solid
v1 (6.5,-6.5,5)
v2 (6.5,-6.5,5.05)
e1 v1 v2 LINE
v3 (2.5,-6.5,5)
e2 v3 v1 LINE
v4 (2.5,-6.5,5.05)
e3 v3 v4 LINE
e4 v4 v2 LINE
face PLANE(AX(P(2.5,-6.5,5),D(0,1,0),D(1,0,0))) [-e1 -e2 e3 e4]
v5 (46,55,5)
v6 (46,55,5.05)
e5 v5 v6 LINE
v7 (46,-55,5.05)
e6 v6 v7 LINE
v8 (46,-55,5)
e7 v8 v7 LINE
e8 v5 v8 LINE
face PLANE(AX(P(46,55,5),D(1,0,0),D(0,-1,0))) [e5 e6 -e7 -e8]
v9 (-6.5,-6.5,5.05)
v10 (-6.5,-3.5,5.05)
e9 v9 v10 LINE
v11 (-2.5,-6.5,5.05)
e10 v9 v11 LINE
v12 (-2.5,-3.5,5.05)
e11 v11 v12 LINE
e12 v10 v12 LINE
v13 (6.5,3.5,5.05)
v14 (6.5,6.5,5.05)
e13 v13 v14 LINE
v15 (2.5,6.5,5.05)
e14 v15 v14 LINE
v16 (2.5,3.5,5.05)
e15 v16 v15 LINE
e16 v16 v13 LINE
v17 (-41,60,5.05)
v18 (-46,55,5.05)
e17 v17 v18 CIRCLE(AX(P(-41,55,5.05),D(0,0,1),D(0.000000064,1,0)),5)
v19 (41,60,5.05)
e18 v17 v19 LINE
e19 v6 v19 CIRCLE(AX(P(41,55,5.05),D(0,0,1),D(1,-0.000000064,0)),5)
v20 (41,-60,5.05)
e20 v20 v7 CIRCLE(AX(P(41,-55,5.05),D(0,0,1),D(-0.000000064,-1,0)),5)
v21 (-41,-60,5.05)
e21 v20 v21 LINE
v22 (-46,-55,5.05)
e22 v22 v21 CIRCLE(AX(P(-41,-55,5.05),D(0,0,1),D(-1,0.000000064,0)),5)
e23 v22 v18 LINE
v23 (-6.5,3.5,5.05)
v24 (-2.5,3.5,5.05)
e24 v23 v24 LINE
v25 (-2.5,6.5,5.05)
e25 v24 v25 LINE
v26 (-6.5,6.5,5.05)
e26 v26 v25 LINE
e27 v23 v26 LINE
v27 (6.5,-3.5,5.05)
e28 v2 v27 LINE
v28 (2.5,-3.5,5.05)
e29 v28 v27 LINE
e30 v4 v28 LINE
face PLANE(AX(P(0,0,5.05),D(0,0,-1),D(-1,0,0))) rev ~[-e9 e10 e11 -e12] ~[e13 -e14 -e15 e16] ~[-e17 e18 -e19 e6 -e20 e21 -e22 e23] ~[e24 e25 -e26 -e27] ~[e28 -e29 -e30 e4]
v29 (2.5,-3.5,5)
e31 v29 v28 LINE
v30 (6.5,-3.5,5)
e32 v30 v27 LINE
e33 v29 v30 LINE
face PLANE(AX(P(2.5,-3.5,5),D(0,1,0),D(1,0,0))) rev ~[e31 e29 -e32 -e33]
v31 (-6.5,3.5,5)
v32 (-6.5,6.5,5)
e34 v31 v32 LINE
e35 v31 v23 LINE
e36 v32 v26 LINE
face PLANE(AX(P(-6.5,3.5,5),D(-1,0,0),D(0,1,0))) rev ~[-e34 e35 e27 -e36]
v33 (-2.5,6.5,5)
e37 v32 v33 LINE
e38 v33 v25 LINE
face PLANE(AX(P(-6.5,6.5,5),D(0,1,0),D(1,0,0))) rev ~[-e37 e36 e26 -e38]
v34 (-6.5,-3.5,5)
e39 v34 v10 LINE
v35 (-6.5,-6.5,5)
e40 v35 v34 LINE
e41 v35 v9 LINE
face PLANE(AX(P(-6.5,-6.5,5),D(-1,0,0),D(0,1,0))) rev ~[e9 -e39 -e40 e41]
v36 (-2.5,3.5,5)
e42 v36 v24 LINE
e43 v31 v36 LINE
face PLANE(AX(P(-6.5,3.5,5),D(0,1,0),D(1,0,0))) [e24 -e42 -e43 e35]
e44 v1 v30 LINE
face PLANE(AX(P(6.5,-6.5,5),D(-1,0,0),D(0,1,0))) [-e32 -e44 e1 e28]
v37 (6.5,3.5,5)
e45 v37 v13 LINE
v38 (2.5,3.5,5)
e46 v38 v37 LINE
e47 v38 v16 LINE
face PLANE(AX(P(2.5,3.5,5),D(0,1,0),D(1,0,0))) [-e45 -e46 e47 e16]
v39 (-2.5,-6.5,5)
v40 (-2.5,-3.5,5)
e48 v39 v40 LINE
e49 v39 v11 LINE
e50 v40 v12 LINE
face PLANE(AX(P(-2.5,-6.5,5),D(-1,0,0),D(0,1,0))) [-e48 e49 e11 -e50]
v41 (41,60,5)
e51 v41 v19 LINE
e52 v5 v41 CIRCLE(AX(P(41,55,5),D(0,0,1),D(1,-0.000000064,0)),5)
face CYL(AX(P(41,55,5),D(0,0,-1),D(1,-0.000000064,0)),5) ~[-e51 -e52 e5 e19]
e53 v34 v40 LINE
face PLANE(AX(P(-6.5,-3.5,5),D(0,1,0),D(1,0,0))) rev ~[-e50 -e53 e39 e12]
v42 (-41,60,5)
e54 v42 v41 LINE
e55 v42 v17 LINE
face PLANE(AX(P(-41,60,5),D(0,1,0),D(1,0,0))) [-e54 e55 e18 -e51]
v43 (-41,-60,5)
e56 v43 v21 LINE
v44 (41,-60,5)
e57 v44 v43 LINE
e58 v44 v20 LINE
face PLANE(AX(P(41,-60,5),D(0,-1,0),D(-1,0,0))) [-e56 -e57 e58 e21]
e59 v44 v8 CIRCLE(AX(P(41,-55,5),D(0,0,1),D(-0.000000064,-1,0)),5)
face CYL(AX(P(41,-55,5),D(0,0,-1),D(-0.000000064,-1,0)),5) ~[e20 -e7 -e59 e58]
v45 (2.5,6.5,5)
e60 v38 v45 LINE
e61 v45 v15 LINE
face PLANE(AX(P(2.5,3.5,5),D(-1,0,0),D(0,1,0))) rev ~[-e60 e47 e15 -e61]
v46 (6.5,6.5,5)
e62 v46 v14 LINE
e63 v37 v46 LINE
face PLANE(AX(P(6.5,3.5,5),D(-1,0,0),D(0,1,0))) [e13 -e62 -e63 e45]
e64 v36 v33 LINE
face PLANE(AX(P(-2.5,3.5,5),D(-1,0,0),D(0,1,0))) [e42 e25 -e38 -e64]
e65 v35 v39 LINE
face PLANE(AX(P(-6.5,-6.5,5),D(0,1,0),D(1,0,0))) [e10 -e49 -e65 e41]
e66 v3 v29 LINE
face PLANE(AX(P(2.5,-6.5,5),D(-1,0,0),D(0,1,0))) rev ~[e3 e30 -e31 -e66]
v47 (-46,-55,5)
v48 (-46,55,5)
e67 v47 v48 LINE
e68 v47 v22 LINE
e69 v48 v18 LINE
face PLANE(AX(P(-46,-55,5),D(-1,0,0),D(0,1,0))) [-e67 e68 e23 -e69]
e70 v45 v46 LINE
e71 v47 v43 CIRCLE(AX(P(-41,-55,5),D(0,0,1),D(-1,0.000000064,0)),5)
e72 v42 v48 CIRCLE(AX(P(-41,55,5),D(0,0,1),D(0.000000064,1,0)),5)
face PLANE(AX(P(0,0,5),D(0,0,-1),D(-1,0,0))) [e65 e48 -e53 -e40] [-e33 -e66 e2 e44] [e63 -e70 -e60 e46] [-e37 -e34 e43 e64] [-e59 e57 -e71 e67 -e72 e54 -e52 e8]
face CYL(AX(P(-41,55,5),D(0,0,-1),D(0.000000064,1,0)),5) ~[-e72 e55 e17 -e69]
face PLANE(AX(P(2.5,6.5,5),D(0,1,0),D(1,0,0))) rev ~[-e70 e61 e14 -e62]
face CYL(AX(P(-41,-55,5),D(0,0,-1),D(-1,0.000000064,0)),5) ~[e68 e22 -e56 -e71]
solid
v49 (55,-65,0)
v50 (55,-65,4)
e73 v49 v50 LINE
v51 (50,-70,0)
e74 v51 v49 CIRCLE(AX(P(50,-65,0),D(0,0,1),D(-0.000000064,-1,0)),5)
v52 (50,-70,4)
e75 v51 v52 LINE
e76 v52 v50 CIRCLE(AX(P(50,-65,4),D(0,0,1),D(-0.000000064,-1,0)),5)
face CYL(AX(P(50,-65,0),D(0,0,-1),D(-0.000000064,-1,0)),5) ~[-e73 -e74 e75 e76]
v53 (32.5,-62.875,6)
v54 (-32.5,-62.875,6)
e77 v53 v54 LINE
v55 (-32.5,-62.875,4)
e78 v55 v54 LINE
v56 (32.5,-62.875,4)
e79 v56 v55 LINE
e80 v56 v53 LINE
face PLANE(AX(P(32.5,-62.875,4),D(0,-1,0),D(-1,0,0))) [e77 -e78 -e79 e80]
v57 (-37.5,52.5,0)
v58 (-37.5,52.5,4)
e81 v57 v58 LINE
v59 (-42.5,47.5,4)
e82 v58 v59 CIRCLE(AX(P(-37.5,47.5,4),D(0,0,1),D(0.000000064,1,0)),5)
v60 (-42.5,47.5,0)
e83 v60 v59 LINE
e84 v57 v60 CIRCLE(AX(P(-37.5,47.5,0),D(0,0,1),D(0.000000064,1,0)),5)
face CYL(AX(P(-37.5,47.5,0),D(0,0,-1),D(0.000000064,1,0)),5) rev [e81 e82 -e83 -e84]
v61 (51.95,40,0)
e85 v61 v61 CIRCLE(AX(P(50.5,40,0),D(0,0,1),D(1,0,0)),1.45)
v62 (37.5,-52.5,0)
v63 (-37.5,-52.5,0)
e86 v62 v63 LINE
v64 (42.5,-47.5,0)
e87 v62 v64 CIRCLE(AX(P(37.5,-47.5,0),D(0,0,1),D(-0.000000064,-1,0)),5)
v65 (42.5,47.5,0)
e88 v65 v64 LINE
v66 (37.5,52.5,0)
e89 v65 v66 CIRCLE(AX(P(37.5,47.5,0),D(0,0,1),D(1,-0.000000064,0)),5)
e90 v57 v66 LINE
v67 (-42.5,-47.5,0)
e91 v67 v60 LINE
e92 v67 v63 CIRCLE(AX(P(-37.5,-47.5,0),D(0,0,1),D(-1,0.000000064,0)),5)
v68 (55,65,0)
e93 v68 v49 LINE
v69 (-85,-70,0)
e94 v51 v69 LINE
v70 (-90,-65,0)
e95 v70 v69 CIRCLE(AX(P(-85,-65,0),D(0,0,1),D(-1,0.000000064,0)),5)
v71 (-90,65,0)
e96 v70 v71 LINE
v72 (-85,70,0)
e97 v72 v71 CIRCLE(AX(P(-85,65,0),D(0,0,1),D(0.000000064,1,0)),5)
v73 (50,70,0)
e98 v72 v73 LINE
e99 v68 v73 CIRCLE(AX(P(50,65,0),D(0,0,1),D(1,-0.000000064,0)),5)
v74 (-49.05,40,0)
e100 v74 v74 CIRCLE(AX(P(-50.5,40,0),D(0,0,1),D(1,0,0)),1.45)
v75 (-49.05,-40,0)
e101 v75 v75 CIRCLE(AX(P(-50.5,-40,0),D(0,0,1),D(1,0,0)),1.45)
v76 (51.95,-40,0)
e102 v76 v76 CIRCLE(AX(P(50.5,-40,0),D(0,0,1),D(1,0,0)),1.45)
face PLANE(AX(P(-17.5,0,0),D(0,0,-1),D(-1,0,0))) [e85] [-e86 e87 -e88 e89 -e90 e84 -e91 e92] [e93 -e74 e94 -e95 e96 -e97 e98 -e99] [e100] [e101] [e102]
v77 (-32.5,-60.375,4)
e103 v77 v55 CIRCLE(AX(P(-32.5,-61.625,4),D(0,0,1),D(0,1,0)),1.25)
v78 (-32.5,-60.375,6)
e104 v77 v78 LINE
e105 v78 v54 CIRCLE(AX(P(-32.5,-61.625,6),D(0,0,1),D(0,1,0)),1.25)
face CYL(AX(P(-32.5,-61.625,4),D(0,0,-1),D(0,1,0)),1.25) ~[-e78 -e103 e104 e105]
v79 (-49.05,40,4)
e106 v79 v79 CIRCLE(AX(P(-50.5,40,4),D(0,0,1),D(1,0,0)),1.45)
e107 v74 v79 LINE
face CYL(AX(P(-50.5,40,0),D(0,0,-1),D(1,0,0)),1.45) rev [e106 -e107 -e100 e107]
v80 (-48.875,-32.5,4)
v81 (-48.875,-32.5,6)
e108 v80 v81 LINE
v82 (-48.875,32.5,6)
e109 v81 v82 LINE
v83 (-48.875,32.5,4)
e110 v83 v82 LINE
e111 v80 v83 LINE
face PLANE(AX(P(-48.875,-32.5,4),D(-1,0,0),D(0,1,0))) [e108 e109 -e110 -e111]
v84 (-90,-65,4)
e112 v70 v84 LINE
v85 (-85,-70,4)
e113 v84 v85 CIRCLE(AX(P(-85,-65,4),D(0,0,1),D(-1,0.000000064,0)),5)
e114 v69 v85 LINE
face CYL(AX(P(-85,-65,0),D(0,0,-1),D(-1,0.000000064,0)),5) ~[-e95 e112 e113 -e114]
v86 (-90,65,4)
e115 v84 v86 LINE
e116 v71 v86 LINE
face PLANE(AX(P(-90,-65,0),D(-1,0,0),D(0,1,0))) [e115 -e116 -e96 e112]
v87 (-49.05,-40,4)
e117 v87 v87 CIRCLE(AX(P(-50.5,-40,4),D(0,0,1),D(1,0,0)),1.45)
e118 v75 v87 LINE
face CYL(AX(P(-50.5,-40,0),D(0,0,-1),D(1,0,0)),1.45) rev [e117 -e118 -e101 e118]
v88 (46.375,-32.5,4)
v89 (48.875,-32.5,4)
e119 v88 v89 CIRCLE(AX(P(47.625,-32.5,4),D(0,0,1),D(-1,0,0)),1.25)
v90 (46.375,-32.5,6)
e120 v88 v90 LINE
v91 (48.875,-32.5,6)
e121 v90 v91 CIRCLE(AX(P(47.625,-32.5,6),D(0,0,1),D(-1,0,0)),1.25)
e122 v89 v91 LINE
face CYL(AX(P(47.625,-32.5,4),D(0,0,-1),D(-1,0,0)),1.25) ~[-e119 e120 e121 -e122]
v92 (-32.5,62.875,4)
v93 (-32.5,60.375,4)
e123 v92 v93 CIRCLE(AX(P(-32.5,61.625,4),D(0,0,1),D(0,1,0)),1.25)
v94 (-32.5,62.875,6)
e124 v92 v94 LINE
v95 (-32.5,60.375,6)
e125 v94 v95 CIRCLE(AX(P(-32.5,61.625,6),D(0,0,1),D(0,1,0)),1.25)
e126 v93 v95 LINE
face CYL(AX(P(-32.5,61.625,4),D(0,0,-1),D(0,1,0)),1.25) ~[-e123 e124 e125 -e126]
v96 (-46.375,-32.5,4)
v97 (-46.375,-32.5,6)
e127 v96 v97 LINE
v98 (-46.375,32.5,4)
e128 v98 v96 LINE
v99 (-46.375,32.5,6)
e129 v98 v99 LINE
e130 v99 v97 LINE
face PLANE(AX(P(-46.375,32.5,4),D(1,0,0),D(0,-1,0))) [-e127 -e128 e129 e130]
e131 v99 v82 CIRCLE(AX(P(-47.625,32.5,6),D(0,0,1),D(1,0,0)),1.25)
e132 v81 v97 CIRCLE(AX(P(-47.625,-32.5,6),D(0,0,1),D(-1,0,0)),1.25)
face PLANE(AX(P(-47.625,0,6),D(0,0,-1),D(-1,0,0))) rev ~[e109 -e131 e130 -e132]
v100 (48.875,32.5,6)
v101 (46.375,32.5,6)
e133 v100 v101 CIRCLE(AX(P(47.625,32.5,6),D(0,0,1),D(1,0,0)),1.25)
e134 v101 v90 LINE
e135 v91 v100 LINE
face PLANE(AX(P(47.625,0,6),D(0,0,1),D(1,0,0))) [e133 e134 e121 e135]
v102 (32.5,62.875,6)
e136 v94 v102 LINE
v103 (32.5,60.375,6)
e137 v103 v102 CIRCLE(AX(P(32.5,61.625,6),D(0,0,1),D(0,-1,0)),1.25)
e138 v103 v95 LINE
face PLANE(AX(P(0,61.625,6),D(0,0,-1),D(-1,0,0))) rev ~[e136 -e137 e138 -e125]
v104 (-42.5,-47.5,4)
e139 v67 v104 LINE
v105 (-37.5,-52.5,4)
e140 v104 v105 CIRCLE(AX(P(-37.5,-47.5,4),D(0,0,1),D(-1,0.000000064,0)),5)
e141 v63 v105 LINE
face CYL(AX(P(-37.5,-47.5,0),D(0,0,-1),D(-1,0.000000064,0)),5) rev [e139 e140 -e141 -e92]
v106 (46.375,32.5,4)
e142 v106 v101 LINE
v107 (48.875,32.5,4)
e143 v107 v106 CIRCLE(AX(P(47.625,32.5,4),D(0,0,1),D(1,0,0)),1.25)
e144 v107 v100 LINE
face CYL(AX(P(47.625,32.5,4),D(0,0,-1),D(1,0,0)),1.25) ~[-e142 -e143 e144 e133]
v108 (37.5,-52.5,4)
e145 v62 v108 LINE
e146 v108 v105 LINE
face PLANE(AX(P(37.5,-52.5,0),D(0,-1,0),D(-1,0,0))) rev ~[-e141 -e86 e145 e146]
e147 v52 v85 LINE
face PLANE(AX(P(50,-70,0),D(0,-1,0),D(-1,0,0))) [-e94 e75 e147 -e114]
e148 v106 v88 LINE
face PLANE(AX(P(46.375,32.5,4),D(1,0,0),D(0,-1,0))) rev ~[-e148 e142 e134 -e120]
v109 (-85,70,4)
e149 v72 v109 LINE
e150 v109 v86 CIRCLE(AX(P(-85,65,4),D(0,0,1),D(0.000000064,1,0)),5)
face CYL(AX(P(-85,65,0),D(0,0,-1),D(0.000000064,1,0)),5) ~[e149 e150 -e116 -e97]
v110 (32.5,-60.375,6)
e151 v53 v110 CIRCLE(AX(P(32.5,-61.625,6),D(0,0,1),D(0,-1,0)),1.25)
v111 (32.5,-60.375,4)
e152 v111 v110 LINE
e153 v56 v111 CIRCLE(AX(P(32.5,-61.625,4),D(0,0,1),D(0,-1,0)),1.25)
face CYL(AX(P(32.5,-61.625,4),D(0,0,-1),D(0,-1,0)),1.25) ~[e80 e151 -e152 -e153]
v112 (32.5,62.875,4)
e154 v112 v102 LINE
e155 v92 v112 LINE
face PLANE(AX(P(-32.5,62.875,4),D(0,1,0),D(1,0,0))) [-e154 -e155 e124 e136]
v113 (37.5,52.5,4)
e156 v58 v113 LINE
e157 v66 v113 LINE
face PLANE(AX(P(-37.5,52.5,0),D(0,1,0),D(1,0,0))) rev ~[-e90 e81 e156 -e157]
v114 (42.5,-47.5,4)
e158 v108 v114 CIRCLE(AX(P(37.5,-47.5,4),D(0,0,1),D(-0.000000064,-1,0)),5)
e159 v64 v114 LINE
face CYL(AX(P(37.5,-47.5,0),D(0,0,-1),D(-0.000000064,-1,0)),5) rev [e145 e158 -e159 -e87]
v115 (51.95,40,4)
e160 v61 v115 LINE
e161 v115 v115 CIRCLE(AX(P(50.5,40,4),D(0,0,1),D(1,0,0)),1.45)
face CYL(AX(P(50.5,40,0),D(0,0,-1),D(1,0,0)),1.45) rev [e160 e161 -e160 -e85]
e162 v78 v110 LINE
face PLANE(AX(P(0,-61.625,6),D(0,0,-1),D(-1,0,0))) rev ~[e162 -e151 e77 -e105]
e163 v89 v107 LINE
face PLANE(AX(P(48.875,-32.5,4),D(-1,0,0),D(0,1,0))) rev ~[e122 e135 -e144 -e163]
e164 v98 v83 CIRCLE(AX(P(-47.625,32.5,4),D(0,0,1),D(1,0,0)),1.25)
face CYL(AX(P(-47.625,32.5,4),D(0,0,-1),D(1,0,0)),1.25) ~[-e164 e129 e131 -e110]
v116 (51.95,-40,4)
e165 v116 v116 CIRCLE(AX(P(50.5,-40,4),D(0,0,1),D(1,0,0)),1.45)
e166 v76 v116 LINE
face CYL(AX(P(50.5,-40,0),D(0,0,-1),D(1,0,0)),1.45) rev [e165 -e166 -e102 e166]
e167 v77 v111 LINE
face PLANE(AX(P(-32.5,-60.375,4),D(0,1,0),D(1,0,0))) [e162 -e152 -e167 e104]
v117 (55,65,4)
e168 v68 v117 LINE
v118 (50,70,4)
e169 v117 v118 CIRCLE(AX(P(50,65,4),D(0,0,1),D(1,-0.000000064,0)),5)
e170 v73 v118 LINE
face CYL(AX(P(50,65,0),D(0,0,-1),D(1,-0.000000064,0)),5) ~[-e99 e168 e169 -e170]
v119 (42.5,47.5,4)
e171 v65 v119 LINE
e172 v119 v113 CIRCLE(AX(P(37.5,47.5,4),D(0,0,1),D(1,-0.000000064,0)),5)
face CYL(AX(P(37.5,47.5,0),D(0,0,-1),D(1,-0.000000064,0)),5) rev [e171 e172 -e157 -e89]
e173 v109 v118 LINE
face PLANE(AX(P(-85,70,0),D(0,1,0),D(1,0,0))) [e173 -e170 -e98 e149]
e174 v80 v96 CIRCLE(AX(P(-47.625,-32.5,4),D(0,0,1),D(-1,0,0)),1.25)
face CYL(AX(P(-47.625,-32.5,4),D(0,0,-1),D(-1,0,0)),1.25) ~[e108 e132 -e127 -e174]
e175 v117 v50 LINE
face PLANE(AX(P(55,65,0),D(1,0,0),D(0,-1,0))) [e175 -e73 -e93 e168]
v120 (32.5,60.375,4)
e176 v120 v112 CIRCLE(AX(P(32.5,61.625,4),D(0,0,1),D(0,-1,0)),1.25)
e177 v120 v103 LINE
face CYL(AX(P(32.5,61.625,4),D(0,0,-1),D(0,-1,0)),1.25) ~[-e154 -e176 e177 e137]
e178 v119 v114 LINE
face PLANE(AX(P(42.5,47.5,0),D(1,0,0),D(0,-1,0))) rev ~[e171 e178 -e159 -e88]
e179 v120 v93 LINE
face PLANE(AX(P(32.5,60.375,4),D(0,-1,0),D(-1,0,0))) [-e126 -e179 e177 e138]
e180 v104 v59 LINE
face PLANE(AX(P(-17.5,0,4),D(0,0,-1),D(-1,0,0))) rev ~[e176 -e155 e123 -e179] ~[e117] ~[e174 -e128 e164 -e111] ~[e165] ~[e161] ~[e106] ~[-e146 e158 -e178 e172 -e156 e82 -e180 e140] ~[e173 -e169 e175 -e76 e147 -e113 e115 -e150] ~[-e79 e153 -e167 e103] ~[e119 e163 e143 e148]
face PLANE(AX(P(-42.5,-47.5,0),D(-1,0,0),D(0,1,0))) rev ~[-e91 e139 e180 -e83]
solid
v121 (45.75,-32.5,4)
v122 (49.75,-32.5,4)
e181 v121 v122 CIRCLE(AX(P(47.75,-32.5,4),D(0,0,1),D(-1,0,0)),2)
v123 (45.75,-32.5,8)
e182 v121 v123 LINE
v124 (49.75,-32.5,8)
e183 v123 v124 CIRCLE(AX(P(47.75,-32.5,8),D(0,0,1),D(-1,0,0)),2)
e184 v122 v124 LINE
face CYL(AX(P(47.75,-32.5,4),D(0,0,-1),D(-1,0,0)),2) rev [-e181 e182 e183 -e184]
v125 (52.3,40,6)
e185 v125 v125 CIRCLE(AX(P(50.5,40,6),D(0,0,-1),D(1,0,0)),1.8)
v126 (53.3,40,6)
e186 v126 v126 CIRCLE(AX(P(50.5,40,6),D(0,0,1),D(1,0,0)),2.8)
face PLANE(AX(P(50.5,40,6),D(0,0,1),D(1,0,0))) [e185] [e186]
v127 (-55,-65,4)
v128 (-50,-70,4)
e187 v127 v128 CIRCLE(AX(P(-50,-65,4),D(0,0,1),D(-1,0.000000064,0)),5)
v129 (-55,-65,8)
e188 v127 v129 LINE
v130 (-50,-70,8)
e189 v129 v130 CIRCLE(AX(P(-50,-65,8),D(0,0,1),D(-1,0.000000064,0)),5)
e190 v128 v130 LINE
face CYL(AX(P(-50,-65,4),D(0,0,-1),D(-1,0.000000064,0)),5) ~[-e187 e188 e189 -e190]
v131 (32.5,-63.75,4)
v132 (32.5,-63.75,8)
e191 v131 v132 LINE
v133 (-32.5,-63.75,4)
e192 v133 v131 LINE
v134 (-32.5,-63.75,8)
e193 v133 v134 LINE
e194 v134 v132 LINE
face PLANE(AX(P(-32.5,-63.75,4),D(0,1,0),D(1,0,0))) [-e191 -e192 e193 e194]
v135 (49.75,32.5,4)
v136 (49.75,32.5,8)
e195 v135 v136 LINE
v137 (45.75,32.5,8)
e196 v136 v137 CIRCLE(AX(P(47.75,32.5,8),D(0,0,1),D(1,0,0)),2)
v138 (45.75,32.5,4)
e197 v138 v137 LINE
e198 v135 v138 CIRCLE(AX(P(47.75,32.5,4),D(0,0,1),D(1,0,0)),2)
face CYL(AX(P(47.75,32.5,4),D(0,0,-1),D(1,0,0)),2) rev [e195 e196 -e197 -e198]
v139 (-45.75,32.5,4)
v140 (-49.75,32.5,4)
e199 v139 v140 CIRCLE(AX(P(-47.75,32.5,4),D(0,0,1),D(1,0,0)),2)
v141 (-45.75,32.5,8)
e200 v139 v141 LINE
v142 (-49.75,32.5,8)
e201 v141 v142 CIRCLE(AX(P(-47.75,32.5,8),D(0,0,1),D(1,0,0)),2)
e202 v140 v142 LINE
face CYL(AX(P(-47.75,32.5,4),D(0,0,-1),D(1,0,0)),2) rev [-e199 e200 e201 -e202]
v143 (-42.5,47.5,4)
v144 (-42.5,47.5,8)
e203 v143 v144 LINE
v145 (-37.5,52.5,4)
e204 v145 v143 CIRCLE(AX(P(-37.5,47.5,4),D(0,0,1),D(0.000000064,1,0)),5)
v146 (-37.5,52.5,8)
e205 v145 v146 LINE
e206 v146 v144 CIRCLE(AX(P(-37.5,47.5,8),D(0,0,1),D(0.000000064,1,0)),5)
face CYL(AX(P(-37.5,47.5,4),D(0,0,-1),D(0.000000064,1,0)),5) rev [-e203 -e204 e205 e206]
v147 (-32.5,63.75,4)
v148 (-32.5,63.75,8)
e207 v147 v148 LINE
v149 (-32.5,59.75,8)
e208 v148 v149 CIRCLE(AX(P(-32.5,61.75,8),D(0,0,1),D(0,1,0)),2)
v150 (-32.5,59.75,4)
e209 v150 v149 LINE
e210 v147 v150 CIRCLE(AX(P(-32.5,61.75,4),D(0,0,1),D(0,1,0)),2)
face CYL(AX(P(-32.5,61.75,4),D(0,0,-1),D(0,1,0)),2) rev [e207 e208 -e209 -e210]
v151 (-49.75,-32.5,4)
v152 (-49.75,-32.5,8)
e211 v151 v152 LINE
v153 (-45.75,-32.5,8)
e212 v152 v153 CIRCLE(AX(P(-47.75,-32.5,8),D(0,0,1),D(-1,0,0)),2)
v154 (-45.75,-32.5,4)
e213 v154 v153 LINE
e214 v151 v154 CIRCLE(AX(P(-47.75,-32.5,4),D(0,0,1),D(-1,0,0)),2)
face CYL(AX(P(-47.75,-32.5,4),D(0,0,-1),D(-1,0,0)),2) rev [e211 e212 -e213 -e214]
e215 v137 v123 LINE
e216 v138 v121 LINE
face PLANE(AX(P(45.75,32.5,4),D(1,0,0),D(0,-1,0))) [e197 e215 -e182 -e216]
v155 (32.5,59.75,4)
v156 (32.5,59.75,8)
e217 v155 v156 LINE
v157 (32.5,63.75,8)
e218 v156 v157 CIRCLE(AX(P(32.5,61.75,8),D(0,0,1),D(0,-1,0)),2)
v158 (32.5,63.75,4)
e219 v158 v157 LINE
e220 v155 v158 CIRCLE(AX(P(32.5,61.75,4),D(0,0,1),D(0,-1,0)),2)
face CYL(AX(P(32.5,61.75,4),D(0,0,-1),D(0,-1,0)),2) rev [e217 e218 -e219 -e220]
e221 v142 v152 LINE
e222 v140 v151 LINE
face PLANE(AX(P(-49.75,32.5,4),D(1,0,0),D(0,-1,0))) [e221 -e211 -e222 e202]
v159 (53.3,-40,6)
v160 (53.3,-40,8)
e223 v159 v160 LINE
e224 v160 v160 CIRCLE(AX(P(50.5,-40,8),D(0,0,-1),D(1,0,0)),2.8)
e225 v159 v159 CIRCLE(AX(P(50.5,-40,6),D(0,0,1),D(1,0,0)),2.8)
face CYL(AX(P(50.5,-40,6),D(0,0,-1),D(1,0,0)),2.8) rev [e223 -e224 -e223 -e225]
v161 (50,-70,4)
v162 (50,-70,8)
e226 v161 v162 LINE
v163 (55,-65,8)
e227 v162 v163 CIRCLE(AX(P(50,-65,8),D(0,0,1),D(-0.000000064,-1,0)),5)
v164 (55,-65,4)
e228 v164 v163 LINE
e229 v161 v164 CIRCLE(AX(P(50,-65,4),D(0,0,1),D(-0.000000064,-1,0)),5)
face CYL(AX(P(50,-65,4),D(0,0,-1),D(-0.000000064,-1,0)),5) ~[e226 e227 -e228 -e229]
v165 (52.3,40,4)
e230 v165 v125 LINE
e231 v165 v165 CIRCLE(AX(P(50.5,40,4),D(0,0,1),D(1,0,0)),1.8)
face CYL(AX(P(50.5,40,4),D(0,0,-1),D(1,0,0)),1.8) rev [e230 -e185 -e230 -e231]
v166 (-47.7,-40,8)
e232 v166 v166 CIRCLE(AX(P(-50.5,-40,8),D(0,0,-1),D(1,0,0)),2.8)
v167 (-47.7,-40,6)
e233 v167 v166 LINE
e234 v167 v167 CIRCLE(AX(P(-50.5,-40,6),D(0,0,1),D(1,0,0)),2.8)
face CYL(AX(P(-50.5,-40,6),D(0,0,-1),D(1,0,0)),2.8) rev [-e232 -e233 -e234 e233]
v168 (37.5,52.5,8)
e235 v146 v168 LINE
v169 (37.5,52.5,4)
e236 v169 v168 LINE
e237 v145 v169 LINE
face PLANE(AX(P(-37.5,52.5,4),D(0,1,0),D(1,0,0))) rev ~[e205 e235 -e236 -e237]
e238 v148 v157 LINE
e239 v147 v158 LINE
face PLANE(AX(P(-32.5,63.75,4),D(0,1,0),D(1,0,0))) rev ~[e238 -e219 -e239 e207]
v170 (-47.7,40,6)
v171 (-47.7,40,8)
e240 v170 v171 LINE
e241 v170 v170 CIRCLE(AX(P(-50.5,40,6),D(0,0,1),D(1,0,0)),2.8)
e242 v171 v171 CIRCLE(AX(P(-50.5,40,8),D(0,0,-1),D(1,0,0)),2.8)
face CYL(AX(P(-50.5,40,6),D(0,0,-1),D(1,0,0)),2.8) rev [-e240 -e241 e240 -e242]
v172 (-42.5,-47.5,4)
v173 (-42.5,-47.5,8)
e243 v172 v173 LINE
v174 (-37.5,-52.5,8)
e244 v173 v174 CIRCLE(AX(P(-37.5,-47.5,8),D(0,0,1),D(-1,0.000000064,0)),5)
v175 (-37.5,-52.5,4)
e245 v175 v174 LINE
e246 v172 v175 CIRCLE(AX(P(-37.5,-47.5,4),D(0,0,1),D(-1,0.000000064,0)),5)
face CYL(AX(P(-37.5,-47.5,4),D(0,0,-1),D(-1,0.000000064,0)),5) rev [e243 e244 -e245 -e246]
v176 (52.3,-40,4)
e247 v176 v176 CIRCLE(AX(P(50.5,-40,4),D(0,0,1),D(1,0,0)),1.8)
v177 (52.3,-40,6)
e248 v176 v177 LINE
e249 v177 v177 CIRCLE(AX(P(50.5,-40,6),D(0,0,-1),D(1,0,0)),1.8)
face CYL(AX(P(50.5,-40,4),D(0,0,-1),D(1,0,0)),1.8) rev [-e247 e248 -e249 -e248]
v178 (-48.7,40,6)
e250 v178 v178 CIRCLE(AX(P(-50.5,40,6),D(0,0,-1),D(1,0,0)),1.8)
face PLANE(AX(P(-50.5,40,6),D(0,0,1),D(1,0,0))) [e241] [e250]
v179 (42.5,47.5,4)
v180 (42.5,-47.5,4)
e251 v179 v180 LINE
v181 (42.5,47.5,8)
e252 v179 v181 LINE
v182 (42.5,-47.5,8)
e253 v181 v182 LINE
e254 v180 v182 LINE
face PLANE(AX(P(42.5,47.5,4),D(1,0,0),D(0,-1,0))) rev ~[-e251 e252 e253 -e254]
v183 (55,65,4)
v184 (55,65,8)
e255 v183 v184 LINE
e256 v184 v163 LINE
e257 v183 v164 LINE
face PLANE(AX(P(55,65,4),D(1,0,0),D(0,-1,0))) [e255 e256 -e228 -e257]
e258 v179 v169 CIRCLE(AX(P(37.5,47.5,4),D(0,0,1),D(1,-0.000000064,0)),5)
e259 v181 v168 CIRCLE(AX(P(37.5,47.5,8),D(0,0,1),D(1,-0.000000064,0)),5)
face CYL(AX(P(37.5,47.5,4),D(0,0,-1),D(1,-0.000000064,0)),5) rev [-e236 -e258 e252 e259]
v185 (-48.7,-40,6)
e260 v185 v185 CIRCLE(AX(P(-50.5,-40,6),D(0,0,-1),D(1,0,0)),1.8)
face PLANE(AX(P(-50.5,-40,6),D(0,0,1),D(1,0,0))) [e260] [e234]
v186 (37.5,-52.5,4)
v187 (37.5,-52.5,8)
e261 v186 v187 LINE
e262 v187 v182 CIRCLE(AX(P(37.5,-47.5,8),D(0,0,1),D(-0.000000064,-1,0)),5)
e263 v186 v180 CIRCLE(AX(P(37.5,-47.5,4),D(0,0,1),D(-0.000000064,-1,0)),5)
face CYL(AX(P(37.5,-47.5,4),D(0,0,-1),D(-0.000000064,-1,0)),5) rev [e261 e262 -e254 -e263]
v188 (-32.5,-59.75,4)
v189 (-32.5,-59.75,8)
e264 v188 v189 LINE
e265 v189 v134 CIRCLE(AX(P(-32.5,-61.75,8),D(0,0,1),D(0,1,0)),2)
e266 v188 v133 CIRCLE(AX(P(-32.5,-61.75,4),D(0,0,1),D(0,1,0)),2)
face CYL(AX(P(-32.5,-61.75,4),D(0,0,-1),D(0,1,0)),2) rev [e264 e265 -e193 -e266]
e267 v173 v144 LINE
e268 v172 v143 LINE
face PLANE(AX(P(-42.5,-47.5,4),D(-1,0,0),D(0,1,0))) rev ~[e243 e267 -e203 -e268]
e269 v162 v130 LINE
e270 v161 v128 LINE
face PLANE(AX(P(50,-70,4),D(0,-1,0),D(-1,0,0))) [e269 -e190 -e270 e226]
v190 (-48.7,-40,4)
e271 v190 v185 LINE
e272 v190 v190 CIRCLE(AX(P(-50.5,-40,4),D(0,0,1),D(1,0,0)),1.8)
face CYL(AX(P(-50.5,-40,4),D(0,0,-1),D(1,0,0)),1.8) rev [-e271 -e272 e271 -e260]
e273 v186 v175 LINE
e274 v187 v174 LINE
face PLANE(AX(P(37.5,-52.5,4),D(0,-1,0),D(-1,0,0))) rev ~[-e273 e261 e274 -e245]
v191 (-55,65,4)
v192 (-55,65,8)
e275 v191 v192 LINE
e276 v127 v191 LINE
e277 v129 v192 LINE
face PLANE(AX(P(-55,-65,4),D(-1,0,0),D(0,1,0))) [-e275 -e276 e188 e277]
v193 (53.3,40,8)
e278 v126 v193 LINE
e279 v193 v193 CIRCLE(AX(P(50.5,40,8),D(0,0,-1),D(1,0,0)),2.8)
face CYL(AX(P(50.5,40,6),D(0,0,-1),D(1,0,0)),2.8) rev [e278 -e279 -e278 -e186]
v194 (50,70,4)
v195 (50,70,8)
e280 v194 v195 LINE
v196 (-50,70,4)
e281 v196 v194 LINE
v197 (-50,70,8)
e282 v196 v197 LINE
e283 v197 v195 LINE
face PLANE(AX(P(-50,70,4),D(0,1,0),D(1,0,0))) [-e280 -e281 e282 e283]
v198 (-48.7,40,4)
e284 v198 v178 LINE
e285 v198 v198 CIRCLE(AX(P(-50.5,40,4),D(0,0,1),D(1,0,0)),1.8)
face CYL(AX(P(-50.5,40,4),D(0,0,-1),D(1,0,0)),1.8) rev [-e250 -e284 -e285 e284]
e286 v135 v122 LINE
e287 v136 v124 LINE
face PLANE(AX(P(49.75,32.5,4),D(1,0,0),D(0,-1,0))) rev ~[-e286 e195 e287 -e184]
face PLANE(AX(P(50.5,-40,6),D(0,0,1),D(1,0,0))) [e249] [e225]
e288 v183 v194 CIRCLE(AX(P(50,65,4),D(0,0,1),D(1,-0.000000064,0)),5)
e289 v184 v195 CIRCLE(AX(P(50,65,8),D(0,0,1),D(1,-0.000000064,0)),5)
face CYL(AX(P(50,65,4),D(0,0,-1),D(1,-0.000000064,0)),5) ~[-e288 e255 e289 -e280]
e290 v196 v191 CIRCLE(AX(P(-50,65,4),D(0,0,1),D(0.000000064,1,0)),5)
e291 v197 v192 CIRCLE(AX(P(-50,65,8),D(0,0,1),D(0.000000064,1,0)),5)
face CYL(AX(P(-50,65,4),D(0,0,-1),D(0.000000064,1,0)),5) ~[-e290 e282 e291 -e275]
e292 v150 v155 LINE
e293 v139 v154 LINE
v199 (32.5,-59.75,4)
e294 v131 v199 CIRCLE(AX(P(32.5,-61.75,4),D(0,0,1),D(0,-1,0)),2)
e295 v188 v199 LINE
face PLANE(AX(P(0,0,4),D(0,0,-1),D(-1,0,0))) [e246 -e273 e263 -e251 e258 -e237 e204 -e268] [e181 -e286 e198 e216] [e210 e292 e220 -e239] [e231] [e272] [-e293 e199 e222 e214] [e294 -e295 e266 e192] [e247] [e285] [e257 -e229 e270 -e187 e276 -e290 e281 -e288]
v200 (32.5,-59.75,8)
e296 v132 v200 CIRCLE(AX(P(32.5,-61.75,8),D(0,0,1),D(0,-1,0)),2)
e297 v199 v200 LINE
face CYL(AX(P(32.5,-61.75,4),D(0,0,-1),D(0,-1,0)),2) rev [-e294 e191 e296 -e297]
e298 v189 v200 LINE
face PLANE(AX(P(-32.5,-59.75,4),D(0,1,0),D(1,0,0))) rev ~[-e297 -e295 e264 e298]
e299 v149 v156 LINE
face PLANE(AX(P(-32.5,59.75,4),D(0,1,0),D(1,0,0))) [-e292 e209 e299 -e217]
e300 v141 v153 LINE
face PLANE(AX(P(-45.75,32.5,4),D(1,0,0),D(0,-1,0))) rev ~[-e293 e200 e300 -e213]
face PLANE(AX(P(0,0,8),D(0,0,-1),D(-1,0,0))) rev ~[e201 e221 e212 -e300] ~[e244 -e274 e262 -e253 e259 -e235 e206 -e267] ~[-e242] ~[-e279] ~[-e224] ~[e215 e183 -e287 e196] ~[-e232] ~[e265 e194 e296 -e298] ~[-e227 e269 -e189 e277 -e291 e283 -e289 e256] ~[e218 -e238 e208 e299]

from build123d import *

# Parameters (mm, degrees)
SKETCH_W         = 4
SKETCH_H         = 3
EXTRUDE_DEPTH    = 0.05
EXTRUDE005_DEPTH = 2
SKETCH001_R      = 1.45
EXTRUDE001_DEPTH = 4
SKETCH004_R      = 2.8
EXTRUDE004_DEPTH = 3
SKETCH003_R      = 1.8
EXTRUDE003_DEPTH = 4


with BuildPart() as extrude_body:
    # Sketch → Extrude (new body)
    with BuildSketch(Plane.XY):
        with BuildLine():
            Line((-41, 60), (41, 60))
            ThreePointArc((46, 55), (44.535534, 58.535534), (41, 60))
            Line((46, 55), (46, -55))
            ThreePointArc((41, -60), (44.535534, -58.535534), (46, -55))
            Line((41, -60), (-41, -60))
            ThreePointArc((-46, -55), (-44.535534, -58.535534), (-41, -60))
            Line((-46, -55), (-46, 55))
            ThreePointArc((-41, 60), (-44.535534, 58.535534), (-46, 55))
        make_face()
        with Locations((-4.5, 5)):
            Rectangle(SKETCH_W, SKETCH_H, mode=Mode.SUBTRACT)
        with Locations((4.5, 5)):
            Rectangle(SKETCH_W, SKETCH_H, mode=Mode.SUBTRACT)
        with Locations((-4.5, -5)):
            Rectangle(SKETCH_W, SKETCH_H, mode=Mode.SUBTRACT)
        with Locations((4.5, -5)):
            Rectangle(SKETCH_W, SKETCH_H, mode=Mode.SUBTRACT)
    extrude(amount=EXTRUDE_DEPTH)


with BuildPart() as extrude_body_1:
    # Extrude placement: moved
    add(extrude_body.part.moved(Location((0, 0, 5))))


with BuildPart() as extrude005:
    # Sketch002 → Extrude005 (new body)
    with BuildSketch(Plane.XY):
        with BuildLine():
            Line((46.375, 32.5), (46.375, -32.5))
            ThreePointArc((46.375, -32.5), (47.625, -33.75), (48.875, -32.5))
            Line((48.875, -32.5), (48.875, 32.5))
            ThreePointArc((48.875, 32.5), (47.625, 33.75), (46.375, 32.5))
        make_face()
        with BuildLine():
            Line((-46.375, 32.5), (-46.375, -32.5))
            ThreePointArc((-48.875, -32.5), (-47.625, -33.75), (-46.375, -32.5))
            Line((-48.875, -32.5), (-48.875, 32.5))
            ThreePointArc((-46.375, 32.5), (-47.625, 33.75), (-48.875, 32.5))
        make_face()
        with BuildLine():
            Line((-32.5, 62.875), (32.5, 62.875))
            ThreePointArc((32.5, 60.375), (33.75, 61.625), (32.5, 62.875))
            Line((32.5, 60.375), (-32.5, 60.375))
            ThreePointArc((-32.5, 62.875), (-33.75, 61.625), (-32.5, 60.375))
        make_face()
        with BuildLine():
            Line((-32.5, -60.375), (32.5, -60.375))
            ThreePointArc((32.5, -62.875), (33.75, -61.625), (32.5, -60.375))
            Line((32.5, -62.875), (-32.5, -62.875))
            ThreePointArc((-32.5, -60.375), (-33.75, -61.625), (-32.5, -62.875))
        make_face()
    extrude(amount=EXTRUDE005_DEPTH)


with BuildPart() as extrude005_1:
    # Extrude005 placement: moved
    add(extrude005.part.moved(Location((0, 0, 4))))


with BuildPart() as fusion:
    # Sketch001 → Extrude001 (new body)
    with BuildSketch(Plane.XY):
        with BuildLine():
            Line((-85, 70), (50, 70))
            ThreePointArc((55, 65), (53.535534, 68.535534), (50, 70))
            Line((55, 65), (55, -65))
            ThreePointArc((50, -70), (53.535534, -68.535534), (55, -65))
            Line((50, -70), (-85, -70))
            ThreePointArc((-90, -65), (-88.535534, -68.535534), (-85, -70))
            Line((-90, -65), (-90, 65))
            ThreePointArc((-85, 70), (-88.535534, 68.535534), (-90, 65))
        make_face()
        with Locations((-50.5, 40)):
            Circle(SKETCH001_R, mode=Mode.SUBTRACT)
        with Locations((50.5, -40)):
            Circle(SKETCH001_R, mode=Mode.SUBTRACT)
        with Locations((-50.5, -40)):
            Circle(SKETCH001_R, mode=Mode.SUBTRACT)
        with Locations((50.5, 40)):
            Circle(SKETCH001_R, mode=Mode.SUBTRACT)
        with BuildLine():
            Line((-37.5, 52.5), (37.5, 52.5))
            ThreePointArc((42.5, 47.5), (41.035534, 51.035534), (37.5, 52.5))
            Line((42.5, 47.5), (42.5, -47.5))
            ThreePointArc((37.5, -52.5), (41.035534, -51.035534), (42.5, -47.5))
            Line((37.5, -52.5), (-37.5, -52.5))
            ThreePointArc((-42.5, -47.5), (-41.035534, -51.035534), (-37.5, -52.5))
            Line((-42.5, -47.5), (-42.5, 47.5))
            ThreePointArc((-37.5, 52.5), (-41.035534, 51.035534), (-42.5, 47.5))
        make_face(mode=Mode.SUBTRACT)
    extrude(amount=EXTRUDE001_DEPTH)

    # Fusion: union Extrude005
    add(extrude005_1.part)


with BuildPart() as extrude004:
    # Sketch004 → Extrude004 (new body)
    with BuildSketch(Plane.XY):
        with Locations((-50.5, 40)):
            Circle(SKETCH004_R)
        with Locations((50.5, -40)):
            Circle(SKETCH004_R)
        with Locations((-50.5, -40)):
            Circle(SKETCH004_R)
        with Locations((50.5, 40)):
            Circle(SKETCH004_R)
    extrude(amount=EXTRUDE004_DEPTH)


with BuildPart() as extrude004_1:
    # Extrude004 placement: moved
    add(extrude004.part.moved(Location((0, 0, 6))))


with BuildPart() as cut:
    # Sketch003 → Extrude003 (new body)
    with BuildSketch(Plane.XY):
        with BuildLine():
            Line((-50, 70), (50, 70))
            ThreePointArc((55, 65), (53.535534, 68.535534), (50, 70))
            Line((55, 65), (55, -65))
            ThreePointArc((50, -70), (53.535534, -68.535534), (55, -65))
            Line((50, -70), (-50, -70))
            ThreePointArc((-55, -65), (-53.535534, -68.535534), (-50, -70))
            Line((-55, -65), (-55, 65))
            ThreePointArc((-50, 70), (-53.535534, 68.535534), (-55, 65))
        make_face()
        with Locations((-50.5, 40)):
            Circle(SKETCH003_R, mode=Mode.SUBTRACT)
        with Locations((50.5, -40)):
            Circle(SKETCH003_R, mode=Mode.SUBTRACT)
        with Locations((-50.5, -40)):
            Circle(SKETCH003_R, mode=Mode.SUBTRACT)
        with Locations((50.5, 40)):
            Circle(SKETCH003_R, mode=Mode.SUBTRACT)
        with BuildLine():
            Line((-37.5, 52.5), (37.5, 52.5))
            ThreePointArc((42.5, 47.5), (41.035534, 51.035534), (37.5, 52.5))
            Line((42.5, 47.5), (42.5, -47.5))
            ThreePointArc((37.5, -52.5), (41.035534, -51.035534), (42.5, -47.5))
            Line((37.5, -52.5), (-37.5, -52.5))
            ThreePointArc((-42.5, -47.5), (-41.035534, -51.035534), (-37.5, -52.5))
            Line((-42.5, -47.5), (-42.5, 47.5))
            ThreePointArc((-37.5, 52.5), (-41.035534, 51.035534), (-42.5, 47.5))
        make_face(mode=Mode.SUBTRACT)
        with BuildLine():
            ThreePointArc((-45.75, 32.5), (-47.75, 34.5), (-49.75, 32.5))
            Line((-49.75, 32.5), (-49.75, -32.5))
            ThreePointArc((-49.75, -32.5), (-47.75, -34.5), (-45.75, -32.5))
            Line((-45.75, 32.5), (-45.75, -32.5))
        make_face(mode=Mode.SUBTRACT)
        with BuildLine():
            ThreePointArc((-32.5, -59.75), (-34.5, -61.75), (-32.5, -63.75))
            Line((-32.5, -63.75), (32.5, -63.75))
            ThreePointArc((32.5, -63.75), (34.5, -61.75), (32.5, -59.75))
            Line((-32.5, -59.75), (32.5, -59.75))
        make_face(mode=Mode.SUBTRACT)
        with BuildLine():
            ThreePointArc((49.75, 32.5), (47.75, 34.5), (45.75, 32.5))
            Line((45.75, 32.5), (45.75, -32.5))
            ThreePointArc((45.75, -32.5), (47.75, -34.5), (49.75, -32.5))
            Line((49.75, 32.5), (49.75, -32.5))
        make_face(mode=Mode.SUBTRACT)
        with BuildLine():
            ThreePointArc((-32.5, 63.75), (-34.5, 61.75), (-32.5, 59.75))
            Line((-32.5, 59.75), (32.5, 59.75))
            ThreePointArc((32.5, 59.75), (34.5, 61.75), (32.5, 63.75))
            Line((-32.5, 63.75), (32.5, 63.75))
        make_face(mode=Mode.SUBTRACT)
    extrude(amount=EXTRUDE003_DEPTH)


with BuildPart() as cut_1:
    # Extrude003 placement: moved
    add(cut.part.moved(Location((0, 0, 4))))

    # Cut: cut Extrude004
    add(extrude004_1.part, mode=Mode.SUBTRACT)


solid = Compound([extrude_body_1.part, fusion.part, cut_1.part])
